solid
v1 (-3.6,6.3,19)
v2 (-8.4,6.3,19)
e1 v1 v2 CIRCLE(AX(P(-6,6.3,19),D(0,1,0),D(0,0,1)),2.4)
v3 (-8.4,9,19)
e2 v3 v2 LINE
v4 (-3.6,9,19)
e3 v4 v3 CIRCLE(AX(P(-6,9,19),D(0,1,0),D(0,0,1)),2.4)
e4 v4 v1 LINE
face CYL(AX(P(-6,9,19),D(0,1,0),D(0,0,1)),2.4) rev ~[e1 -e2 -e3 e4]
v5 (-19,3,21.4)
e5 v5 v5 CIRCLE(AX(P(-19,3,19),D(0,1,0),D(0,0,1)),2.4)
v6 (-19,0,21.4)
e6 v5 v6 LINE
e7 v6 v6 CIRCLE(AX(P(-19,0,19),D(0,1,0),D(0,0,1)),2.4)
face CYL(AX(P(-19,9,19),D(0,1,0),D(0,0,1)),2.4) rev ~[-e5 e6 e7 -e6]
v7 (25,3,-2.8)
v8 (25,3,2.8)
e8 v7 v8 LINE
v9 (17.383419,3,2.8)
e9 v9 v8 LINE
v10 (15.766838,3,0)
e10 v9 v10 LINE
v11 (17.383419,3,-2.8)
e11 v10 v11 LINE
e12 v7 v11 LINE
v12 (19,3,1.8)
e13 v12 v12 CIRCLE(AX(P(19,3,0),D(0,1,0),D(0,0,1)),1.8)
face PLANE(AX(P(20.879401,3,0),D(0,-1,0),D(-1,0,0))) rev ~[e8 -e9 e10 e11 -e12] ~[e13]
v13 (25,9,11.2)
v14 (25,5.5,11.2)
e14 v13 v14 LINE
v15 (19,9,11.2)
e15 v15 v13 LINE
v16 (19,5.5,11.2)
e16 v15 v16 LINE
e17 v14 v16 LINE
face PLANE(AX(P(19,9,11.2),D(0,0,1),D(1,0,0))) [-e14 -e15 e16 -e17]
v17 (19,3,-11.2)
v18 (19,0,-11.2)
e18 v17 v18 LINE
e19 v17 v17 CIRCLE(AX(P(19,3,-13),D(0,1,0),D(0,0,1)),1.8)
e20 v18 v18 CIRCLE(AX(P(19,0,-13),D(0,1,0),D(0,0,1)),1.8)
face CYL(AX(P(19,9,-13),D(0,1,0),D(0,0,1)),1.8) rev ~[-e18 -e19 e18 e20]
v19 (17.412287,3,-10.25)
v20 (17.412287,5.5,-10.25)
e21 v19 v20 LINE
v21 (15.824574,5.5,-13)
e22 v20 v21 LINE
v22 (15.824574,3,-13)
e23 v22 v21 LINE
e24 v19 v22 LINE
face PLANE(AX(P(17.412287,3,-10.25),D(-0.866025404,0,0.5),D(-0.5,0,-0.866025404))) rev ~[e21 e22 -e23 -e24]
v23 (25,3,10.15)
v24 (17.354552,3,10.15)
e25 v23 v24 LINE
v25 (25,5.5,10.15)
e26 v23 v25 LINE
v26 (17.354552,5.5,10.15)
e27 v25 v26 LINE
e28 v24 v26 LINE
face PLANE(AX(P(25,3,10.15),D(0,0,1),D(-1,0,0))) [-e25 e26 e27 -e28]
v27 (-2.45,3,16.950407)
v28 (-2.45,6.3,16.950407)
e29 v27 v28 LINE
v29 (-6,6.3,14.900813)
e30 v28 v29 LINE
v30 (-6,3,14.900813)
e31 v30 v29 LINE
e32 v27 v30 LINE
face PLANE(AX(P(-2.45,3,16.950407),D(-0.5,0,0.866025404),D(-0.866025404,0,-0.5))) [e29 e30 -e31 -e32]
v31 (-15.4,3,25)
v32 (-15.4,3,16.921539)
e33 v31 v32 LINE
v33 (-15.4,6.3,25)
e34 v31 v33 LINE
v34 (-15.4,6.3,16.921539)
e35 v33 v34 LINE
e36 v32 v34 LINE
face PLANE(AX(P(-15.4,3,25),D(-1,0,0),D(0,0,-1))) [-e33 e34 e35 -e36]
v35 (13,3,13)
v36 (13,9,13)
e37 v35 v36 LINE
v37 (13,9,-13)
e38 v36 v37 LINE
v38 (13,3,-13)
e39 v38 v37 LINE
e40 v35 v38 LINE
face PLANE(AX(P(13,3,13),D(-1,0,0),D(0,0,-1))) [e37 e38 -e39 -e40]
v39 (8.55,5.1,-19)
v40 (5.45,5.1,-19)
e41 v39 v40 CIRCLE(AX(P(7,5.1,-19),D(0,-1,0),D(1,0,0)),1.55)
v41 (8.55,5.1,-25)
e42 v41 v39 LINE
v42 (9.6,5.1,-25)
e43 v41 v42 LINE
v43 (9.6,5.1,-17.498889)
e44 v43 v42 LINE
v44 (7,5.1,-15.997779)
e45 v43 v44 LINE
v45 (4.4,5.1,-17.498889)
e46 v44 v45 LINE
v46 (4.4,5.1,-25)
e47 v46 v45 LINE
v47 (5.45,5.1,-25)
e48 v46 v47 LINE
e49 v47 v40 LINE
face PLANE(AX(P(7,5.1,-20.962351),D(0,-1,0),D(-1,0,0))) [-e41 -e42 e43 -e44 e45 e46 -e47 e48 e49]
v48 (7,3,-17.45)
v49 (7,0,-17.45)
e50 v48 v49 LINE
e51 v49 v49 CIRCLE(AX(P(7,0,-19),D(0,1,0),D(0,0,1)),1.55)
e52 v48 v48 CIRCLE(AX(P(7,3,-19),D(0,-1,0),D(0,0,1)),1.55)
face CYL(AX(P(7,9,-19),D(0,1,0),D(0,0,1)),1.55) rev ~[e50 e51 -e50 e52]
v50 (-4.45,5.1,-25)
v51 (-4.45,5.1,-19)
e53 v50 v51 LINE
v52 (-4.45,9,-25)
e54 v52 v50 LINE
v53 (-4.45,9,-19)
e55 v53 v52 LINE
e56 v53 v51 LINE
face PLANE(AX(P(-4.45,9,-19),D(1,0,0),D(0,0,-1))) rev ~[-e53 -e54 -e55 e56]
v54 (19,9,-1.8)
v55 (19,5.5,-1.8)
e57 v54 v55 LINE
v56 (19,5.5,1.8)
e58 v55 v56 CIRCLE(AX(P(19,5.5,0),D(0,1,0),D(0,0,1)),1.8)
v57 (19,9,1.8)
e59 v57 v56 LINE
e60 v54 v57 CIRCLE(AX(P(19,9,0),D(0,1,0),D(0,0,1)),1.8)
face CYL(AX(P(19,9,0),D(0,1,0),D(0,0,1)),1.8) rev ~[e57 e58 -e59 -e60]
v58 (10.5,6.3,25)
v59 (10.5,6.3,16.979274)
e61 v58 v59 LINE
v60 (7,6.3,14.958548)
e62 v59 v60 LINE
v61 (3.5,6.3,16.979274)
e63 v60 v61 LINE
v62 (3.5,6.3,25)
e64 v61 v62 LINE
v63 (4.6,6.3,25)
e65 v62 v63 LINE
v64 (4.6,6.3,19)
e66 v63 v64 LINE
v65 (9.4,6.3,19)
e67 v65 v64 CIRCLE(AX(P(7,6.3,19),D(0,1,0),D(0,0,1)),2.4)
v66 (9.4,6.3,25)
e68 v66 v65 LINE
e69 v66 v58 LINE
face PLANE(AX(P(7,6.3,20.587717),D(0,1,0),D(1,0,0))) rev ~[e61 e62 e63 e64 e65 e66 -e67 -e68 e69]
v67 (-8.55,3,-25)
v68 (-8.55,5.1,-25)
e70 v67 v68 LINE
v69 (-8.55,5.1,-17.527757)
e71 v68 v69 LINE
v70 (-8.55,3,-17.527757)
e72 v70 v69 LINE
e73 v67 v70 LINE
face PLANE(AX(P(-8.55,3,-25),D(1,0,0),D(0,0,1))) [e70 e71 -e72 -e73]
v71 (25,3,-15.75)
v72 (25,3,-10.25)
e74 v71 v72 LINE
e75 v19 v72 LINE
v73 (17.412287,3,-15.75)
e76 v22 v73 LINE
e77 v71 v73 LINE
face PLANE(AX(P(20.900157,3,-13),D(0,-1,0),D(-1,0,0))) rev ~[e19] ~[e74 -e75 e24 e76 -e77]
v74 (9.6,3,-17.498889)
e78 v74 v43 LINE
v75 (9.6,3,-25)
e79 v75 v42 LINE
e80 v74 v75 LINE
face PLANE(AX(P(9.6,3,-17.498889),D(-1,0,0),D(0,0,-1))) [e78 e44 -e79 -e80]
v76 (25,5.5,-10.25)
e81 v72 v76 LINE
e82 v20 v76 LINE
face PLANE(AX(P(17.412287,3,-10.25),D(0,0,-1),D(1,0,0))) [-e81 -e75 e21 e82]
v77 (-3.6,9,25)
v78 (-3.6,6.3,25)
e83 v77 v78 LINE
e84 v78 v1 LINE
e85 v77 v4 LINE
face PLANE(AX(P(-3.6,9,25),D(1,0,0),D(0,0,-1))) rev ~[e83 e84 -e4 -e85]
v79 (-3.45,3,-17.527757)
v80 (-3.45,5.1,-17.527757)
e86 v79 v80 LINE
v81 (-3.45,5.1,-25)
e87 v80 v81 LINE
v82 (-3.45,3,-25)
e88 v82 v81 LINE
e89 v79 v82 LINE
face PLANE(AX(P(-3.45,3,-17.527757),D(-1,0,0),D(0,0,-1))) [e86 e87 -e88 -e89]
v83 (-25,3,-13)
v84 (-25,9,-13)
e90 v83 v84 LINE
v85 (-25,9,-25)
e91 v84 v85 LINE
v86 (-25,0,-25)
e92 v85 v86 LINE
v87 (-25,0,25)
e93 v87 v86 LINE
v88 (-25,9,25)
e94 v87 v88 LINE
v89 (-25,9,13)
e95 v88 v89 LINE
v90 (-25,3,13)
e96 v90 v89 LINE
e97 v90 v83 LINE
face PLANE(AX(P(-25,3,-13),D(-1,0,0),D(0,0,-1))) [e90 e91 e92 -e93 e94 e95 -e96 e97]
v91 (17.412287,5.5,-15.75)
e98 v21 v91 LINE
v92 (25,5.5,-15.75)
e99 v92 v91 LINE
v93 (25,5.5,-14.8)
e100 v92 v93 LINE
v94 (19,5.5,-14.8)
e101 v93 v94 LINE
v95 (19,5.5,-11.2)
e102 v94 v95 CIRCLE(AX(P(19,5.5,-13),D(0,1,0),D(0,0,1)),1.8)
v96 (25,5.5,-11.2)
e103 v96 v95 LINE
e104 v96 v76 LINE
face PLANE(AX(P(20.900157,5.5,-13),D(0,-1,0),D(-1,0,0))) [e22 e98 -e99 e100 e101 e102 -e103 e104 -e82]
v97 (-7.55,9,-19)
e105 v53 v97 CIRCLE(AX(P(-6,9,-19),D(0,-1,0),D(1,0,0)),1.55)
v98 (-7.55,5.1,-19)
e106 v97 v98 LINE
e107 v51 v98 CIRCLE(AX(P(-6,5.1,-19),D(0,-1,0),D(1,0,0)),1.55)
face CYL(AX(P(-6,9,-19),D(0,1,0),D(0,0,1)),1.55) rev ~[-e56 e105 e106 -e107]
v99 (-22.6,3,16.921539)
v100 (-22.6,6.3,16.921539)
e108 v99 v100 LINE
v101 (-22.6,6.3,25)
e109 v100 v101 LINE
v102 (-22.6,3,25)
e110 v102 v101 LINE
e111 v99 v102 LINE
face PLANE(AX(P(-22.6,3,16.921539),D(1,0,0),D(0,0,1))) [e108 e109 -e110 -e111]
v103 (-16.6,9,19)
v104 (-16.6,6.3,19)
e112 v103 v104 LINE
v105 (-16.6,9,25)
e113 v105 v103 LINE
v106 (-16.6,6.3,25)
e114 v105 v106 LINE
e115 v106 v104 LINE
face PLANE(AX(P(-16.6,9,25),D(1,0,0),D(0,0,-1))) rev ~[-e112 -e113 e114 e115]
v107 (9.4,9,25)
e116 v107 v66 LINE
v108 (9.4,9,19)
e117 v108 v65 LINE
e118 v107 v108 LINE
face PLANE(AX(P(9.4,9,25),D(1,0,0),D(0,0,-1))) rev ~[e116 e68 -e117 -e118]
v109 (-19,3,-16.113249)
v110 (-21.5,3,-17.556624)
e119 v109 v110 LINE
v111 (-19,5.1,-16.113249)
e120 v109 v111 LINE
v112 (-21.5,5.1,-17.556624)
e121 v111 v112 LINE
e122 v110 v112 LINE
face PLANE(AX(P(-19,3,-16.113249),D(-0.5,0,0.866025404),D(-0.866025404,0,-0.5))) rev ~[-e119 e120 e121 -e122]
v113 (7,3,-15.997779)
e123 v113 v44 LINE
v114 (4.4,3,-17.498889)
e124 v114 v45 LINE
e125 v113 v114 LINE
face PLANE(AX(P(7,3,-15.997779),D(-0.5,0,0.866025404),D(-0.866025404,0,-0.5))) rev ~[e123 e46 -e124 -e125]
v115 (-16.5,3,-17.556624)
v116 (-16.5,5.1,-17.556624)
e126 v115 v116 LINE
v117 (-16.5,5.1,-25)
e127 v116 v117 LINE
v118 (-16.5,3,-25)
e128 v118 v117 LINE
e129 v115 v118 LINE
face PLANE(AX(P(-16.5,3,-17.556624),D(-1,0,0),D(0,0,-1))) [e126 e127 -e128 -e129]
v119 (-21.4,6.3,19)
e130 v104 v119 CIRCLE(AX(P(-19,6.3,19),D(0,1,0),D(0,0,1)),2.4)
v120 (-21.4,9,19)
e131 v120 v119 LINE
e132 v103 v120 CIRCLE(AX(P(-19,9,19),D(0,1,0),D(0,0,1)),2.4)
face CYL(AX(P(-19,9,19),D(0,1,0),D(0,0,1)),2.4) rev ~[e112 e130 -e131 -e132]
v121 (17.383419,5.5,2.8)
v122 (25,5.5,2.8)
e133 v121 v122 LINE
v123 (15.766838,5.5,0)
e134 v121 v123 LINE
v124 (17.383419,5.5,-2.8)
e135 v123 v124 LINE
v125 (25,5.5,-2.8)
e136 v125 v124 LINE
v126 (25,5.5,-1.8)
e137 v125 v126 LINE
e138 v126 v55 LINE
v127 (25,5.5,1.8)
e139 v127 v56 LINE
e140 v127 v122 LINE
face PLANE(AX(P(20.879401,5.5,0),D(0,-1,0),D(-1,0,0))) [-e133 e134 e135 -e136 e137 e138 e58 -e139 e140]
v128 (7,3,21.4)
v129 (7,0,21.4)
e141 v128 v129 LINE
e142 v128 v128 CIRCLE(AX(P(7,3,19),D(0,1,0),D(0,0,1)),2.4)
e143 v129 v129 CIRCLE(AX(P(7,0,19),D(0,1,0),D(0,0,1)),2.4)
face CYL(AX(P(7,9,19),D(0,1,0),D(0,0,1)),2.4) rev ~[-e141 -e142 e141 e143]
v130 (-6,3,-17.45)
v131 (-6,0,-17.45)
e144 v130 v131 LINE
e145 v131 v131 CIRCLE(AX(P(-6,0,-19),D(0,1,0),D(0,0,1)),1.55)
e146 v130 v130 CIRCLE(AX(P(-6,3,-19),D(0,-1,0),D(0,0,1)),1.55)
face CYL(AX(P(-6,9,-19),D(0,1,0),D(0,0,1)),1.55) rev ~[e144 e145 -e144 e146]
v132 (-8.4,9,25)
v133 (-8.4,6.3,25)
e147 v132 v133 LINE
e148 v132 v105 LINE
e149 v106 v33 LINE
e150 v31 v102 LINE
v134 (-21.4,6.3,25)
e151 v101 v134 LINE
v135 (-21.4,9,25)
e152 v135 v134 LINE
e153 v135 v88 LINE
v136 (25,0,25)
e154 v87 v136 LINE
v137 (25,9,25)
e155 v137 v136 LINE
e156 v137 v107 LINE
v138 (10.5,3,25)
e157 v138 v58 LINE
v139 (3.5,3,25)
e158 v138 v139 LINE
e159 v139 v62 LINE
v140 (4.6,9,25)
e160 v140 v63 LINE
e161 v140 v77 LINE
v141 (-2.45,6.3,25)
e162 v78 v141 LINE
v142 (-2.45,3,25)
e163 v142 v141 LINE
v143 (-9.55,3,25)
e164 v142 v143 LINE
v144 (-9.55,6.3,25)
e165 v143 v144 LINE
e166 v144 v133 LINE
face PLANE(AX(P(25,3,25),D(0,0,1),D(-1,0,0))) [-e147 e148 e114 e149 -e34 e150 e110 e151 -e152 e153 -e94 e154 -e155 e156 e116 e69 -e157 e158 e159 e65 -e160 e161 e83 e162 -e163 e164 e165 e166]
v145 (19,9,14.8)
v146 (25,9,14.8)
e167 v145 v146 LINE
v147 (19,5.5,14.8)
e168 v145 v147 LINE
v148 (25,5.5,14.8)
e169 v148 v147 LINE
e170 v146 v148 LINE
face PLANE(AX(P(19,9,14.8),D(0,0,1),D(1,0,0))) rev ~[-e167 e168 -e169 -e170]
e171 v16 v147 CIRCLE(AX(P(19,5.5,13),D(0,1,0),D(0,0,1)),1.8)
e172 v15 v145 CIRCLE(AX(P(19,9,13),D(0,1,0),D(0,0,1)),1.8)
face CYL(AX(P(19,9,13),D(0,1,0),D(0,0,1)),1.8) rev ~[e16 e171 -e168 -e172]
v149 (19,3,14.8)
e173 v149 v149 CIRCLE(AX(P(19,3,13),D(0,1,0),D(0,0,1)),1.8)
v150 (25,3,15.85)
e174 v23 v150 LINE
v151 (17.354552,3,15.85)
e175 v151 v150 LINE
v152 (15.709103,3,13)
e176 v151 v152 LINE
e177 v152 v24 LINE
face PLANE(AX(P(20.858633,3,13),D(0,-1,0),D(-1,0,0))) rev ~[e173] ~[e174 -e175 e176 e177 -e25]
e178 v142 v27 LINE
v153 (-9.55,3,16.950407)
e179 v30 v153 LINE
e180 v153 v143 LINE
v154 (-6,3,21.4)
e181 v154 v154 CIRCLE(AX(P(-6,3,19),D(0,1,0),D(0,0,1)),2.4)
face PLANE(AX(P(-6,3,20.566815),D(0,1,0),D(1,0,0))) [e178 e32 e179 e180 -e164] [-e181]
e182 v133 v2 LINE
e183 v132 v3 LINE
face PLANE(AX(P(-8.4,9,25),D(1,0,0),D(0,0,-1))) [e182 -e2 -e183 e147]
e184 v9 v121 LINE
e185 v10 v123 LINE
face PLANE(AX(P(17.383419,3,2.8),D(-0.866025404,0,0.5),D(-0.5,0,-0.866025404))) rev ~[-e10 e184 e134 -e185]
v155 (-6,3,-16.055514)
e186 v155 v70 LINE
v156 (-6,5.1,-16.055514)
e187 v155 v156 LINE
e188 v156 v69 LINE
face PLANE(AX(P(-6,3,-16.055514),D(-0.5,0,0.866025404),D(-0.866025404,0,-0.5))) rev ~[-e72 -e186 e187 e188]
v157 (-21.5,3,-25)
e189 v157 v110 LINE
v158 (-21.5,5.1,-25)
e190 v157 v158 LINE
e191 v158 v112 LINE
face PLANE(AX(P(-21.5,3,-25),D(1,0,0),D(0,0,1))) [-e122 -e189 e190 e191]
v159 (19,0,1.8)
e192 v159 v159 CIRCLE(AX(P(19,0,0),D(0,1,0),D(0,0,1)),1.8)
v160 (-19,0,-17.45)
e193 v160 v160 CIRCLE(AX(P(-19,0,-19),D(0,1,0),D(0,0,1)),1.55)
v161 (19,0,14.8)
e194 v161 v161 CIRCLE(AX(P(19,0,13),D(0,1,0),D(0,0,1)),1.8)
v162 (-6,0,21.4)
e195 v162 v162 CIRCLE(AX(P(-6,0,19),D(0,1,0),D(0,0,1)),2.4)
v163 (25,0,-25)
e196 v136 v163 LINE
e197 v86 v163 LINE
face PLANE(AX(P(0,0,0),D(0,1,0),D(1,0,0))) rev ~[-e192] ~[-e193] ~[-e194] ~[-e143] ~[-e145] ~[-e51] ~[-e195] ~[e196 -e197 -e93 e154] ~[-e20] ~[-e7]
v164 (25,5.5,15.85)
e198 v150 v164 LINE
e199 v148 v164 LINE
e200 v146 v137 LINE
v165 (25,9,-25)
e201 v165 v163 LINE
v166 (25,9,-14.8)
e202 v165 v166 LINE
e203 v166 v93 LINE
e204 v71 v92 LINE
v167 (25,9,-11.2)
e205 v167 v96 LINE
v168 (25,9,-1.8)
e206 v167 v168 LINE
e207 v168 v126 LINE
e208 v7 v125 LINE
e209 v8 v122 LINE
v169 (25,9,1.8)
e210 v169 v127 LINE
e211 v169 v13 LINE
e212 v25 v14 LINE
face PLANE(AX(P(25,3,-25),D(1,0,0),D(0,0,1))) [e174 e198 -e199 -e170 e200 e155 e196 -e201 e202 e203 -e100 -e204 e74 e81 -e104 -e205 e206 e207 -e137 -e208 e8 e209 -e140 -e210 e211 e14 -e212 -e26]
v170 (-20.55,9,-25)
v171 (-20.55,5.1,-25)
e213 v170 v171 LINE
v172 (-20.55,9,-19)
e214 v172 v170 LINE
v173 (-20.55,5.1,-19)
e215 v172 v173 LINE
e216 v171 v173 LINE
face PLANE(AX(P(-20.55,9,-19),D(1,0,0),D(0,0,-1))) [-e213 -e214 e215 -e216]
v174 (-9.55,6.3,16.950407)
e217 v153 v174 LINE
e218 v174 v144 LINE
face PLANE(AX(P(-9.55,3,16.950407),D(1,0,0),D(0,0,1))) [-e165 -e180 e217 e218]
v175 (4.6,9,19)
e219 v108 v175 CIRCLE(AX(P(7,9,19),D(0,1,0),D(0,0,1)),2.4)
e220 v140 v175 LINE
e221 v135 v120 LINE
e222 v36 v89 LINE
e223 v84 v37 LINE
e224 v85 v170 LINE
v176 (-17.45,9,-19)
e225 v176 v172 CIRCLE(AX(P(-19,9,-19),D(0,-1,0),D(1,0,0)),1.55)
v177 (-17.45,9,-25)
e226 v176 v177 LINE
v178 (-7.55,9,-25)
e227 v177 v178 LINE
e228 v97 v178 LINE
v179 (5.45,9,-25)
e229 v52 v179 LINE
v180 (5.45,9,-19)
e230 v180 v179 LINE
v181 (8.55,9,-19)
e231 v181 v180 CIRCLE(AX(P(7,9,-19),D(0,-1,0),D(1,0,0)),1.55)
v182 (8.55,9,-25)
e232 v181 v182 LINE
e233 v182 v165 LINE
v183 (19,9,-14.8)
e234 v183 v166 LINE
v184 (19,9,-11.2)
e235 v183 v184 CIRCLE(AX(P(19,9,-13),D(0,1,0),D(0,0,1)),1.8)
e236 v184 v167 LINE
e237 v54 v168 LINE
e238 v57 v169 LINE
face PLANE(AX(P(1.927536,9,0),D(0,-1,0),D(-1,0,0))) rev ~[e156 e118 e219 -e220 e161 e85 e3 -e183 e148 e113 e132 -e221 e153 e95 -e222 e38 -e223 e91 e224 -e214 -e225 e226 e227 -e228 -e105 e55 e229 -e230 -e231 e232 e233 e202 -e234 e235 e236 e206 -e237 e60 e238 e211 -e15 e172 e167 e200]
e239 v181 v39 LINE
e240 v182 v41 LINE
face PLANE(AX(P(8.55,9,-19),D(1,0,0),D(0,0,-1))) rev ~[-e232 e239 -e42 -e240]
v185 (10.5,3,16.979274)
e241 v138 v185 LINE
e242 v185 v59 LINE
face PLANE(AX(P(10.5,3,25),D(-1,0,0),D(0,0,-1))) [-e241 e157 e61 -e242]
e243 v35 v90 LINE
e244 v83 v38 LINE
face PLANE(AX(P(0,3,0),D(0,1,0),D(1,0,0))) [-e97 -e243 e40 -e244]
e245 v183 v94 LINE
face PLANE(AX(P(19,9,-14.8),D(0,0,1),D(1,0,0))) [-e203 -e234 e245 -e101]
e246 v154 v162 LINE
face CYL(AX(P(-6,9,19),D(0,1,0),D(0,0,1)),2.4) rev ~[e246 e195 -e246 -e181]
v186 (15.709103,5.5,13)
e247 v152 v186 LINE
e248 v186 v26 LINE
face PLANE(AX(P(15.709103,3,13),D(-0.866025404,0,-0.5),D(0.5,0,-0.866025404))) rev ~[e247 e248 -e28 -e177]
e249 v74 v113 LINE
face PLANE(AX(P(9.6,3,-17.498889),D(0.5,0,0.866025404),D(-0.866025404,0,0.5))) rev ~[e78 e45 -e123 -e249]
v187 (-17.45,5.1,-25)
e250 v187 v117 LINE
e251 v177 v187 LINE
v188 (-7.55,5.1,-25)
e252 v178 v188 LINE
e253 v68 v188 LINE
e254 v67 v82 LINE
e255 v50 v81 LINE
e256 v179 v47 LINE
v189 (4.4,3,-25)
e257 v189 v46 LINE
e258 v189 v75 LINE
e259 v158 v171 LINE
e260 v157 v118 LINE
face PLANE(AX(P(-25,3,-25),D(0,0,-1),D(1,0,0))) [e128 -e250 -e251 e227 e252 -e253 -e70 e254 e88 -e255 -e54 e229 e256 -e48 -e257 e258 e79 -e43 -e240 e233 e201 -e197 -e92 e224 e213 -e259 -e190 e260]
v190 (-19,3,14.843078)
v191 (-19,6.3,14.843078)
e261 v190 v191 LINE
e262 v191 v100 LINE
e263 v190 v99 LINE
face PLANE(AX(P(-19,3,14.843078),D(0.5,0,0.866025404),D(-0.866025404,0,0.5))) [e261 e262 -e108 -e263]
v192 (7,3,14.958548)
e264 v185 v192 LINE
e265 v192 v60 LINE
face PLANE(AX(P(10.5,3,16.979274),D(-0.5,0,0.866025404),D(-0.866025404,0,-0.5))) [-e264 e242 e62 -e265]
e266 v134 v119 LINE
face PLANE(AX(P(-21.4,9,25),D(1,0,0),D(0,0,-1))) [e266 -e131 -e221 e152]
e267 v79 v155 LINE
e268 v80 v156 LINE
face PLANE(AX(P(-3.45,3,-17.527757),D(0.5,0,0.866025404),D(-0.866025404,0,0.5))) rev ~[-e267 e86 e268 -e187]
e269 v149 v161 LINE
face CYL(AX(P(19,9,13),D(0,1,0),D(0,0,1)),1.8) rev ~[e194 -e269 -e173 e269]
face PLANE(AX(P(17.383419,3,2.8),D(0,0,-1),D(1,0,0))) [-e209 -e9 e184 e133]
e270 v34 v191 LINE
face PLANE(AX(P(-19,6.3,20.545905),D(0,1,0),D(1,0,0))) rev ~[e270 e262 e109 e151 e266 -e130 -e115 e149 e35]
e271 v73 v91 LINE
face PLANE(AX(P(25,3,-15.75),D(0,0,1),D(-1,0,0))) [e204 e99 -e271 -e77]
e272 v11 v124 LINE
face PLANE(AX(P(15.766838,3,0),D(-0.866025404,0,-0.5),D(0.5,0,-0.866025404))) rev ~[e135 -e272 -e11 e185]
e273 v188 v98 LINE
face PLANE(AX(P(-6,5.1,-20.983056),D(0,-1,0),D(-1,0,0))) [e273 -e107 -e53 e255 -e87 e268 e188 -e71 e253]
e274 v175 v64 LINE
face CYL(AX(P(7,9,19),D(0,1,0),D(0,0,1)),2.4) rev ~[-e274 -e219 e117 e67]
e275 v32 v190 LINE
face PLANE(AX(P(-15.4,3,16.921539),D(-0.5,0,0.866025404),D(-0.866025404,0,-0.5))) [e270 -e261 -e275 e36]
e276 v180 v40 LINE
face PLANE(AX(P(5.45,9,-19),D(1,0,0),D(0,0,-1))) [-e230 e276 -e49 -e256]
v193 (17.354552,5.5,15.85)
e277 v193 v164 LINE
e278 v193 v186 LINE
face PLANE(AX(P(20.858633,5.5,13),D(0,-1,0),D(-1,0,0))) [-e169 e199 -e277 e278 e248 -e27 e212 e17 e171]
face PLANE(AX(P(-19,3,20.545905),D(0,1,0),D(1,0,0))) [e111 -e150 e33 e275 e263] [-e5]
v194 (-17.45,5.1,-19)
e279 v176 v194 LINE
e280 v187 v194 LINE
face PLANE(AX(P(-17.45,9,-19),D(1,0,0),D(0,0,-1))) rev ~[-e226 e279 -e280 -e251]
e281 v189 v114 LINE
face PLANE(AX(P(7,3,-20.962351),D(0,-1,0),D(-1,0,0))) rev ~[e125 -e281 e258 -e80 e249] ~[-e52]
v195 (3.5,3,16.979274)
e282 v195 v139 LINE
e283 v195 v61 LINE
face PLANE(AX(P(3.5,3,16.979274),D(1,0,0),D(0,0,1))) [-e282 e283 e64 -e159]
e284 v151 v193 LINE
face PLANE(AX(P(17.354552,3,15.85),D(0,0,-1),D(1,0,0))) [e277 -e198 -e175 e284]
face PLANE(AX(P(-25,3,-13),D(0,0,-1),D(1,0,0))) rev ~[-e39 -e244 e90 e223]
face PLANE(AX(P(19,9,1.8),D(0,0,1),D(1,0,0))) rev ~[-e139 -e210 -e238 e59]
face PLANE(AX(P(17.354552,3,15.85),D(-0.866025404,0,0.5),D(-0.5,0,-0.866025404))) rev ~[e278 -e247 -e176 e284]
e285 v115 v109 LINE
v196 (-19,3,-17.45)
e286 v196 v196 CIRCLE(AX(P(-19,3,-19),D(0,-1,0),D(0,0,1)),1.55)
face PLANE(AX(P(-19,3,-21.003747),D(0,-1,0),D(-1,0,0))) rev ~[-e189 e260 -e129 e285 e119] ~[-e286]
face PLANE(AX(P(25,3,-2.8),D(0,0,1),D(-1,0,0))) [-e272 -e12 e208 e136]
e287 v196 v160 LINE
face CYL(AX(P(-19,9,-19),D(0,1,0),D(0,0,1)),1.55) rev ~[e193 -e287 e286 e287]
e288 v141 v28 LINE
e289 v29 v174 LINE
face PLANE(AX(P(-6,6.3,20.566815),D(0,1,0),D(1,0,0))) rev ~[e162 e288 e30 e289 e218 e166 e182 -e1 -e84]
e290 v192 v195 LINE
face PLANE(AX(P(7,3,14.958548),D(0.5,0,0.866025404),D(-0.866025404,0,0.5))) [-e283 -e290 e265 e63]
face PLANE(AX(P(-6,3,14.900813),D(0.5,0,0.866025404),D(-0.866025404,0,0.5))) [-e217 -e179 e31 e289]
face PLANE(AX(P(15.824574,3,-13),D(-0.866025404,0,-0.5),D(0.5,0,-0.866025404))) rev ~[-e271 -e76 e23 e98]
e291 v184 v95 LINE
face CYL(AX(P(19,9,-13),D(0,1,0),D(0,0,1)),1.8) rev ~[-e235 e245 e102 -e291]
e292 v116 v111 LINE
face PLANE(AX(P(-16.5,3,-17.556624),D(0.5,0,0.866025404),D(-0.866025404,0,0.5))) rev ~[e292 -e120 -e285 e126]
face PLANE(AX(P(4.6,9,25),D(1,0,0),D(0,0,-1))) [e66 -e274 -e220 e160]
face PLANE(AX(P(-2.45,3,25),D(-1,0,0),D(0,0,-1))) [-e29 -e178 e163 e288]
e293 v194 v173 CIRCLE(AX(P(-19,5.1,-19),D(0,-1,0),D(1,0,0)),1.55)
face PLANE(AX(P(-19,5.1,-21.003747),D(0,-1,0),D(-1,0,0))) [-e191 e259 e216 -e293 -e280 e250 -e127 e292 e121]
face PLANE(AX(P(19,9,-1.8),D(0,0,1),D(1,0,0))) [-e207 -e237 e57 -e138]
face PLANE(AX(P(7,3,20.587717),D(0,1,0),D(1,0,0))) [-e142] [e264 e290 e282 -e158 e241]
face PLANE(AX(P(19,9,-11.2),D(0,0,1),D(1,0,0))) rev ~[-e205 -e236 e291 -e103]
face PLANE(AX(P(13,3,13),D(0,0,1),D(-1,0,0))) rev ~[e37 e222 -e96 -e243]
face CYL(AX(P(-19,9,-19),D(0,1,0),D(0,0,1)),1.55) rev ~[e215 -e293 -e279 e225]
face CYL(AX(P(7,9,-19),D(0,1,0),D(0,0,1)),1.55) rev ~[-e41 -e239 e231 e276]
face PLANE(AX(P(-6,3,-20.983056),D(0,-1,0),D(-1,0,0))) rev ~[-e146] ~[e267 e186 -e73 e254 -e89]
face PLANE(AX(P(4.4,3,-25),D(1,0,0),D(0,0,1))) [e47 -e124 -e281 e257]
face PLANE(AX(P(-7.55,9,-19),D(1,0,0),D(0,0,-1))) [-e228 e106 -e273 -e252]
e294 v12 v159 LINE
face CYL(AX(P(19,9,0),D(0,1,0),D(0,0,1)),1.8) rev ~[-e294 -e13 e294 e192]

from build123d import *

# Parameters (mm, degrees)
SKETCH1_W           = 50
SKETCH1_H           = 50
BOSS_EXTRUDE1_DEPTH = 3
BOSS_EXTRUDE2_DEPTH = 6
CUT_EXTRUDE1_DEPTH  = 2.1
CUT_EXTRUDE2_DEPTH  = 2.5
CUT_EXTRUDE3_DEPTH  = 3.3
SKETCH4_R           = 1.55
SKETCH4_R_2         = 1.8
SKETCH4_R_3         = 2.4
CUT_EXTRUDE4_DEPTH  = 37.482872694
CUT_EXTRUDE5_REACH  = 38.483
SKETCH5_W           = 3.1
SKETCH5_H           = 6
SKETCH5_W_2         = 6
SKETCH5_H_2         = 3.6
SKETCH5_W_3         = 4.8


with BuildPart() as part:
    # Sketch1 → Boss-Extrude1 (new body)
    with BuildSketch(Plane(origin=(0, 0, 0), x_dir=(1, 0, 0), z_dir=(0, 1, 0))):
        Rectangle(SKETCH1_W, SKETCH1_H)
    extrude(amount=BOSS_EXTRUDE1_DEPTH)

    # Sketch2 → Boss-Extrude2 (add)
    with BuildSketch(Plane(origin=(0, 3, 0), x_dir=(1, 0, 0), z_dir=(0, 1, 0))):
        Polygon((-13, 13), (-25, 13), (-25, 25), (25, 25), (25, -25), (-25, -25), (-25, -13), (-13, -13), (13, -13), (13, 13), align=None)
    extrude(amount=BOSS_EXTRUDE2_DEPTH)

    # Sketch3 → Cut-Extrude1 (cut)
    with BuildSketch(Plane(origin=(0, 3, 0), x_dir=(1, 0, 0), z_dir=(0, 1, 0))):
        Polygon((-21.5, 25), (-16.5, 25), (-16.5, 20.443375673), (-16.5, 17.556624327), (-19, 16.113248654), (-21.5, 17.556624327), (-21.5, 20.443375673), align=None)
        Polygon((-8.55, 25), (-3.45, 25), (-3.45, 20.472243186), (-3.45, 17.527756814), (-6, 16.055513627), (-8.55, 17.527756814), (-8.55, 20.472243186), align=None)
        Polygon((4.4, 25), (9.6, 25), (9.6, 20.5011107), (9.6, 17.4988893), (7, 15.9977786), (4.4, 17.4988893), (4.4, 20.5011107), align=None)
    extrude(amount=CUT_EXTRUDE1_DEPTH, mode=Mode.SUBTRACT)

    # Sketch3<3> → Cut-Extrude2 (cut)
    with BuildSketch(Plane(origin=(0, 3, 0), x_dir=(1, 0, 0), z_dir=(0, 1, 0))):
        Polygon((25, 15.75), (25, 10.25), (20.58771324, 10.25), (17.41228676, 10.25), (15.824573519, 13), (17.41228676, 15.75), (20.58771324, 15.75), align=None)
        Polygon((25, 2.8), (25, -2.8), (20.616580754, -2.8), (17.383419246, -2.8), (15.766838493, 0), (17.383419246, 2.8), (20.616580754, 2.8), align=None)
        Polygon((25, -10.15), (25, -15.85), (20.645448267, -15.85), (17.354551733, -15.85), (15.709103466, -13), (17.354551733, -10.15), (20.645448267, -10.15), align=None)
    extrude(amount=CUT_EXTRUDE2_DEPTH, mode=Mode.SUBTRACT)

    # Sketch3<4> → Cut-Extrude3 (cut)
    with BuildSketch(Plane(origin=(0, 3, 0), x_dir=(1, 0, 0), z_dir=(0, 1, 0))):
        Polygon((-22.6, -21.078460969), (-22.6, -25), (-15.4, -25), (-15.4, -21.078460969), (-15.4, -16.921539031), (-19, -14.843078062), (-22.6, -16.921539031), align=None)
        Polygon((-9.55, -21.049593456), (-9.55, -25), (-2.45, -25), (-2.45, -21.049593456), (-2.45, -16.950406544), (-6, -14.900813089), (-9.55, -16.950406544), align=None)
        Polygon((3.5, -21.020725942), (3.5, -25), (10.5, -25), (10.5, -21.020725942), (10.5, -16.979274058), (7, -14.958548116), (3.5, -16.979274058), align=None)
    extrude(amount=CUT_EXTRUDE3_DEPTH, mode=Mode.SUBTRACT)

    # Sketch4 → Cut-Extrude4 (cut, through all)
    with BuildSketch(Plane(origin=(0, 9, 0), x_dir=(1, 0, 0), z_dir=(0, 1, 0))):
        with Locations(Location((-19, 19, 0), (0, 0, 270))):
            Circle(SKETCH4_R)
        with Locations(Location((-6, 19, 0), (0, 0, 270))):
            Circle(SKETCH4_R)
        with Locations(Location((7, 19, 0), (0, 0, 270))):
            Circle(SKETCH4_R)
        with Locations(Location((19, 13, 0), (0, 0, 270))):
            Circle(SKETCH4_R_2)
        with Locations(Location((19, 0, 0), (0, 0, 270))):
            Circle(SKETCH4_R_2)
        with Locations(Location((19, -13, 0), (0, 0, 270))):
            Circle(SKETCH4_R_2)
        with Locations(Location((7, -19, 0), (0, 0, 270))):
            Circle(SKETCH4_R_3)
        with Locations(Location((-6, -19, 0), (0, 0, 270))):
            Circle(SKETCH4_R_3)
        with Locations(Location((-19, -19, 0), (0, 0, 270))):
            Circle(SKETCH4_R_3)
    extrude(amount=-CUT_EXTRUDE4_DEPTH, mode=Mode.SUBTRACT)

    # Cut-Extrude5: up to this face of the body (flat: up to its plane)
    cut_extrude5_end = Plane(part.part.faces().sort_by_distance((-19, 3, 24.875499774))[0])
    # Sketch5 → Cut-Extrude5 (cut, up to the picked face)
    with BuildSketch(Plane(origin=(0, 9, 0), x_dir=(1, 0, 0), z_dir=(0, 1, 0)), mode=Mode.PRIVATE) as cut_extrude5_sk1:
        with Locations((-19, 22)):
            Rectangle(SKETCH5_W, SKETCH5_H)
    cut_extrude5_tool1 = split(extrude(cut_extrude5_sk1.sketch, amount=-CUT_EXTRUDE5_REACH, mode=Mode.PRIVATE), bisect_by=cut_extrude5_end, keep=Keep.BOTH, mode=Mode.PRIVATE)
    # Sketch5 → Cut-Extrude5 (cut, up to the picked face)
    with BuildSketch(Plane(origin=(0, 9, 0), x_dir=(1, 0, 0), z_dir=(0, 1, 0)), mode=Mode.PRIVATE) as cut_extrude5_sk2:
        with Locations((-6, 22)):
            Rectangle(SKETCH5_W, SKETCH5_H)
    cut_extrude5_tool2 = split(extrude(cut_extrude5_sk2.sketch, amount=-CUT_EXTRUDE5_REACH, mode=Mode.PRIVATE), bisect_by=cut_extrude5_end, keep=Keep.BOTH, mode=Mode.PRIVATE)
    # Sketch5 → Cut-Extrude5 (cut, up to the picked face)
    with BuildSketch(Plane(origin=(0, 9, 0), x_dir=(1, 0, 0), z_dir=(0, 1, 0)), mode=Mode.PRIVATE) as cut_extrude5_sk3:
        with Locations((7, 22)):
            Rectangle(SKETCH5_W, SKETCH5_H)
    cut_extrude5_tool3 = split(extrude(cut_extrude5_sk3.sketch, amount=-CUT_EXTRUDE5_REACH, mode=Mode.PRIVATE), bisect_by=cut_extrude5_end, keep=Keep.BOTH, mode=Mode.PRIVATE)
    # Sketch5 → Cut-Extrude5 (cut, up to the picked face)
    with BuildSketch(Plane(origin=(0, 9, 0), x_dir=(1, 0, 0), z_dir=(0, 1, 0)), mode=Mode.PRIVATE) as cut_extrude5_sk4:
        with Locations((22, 13)):
            Rectangle(SKETCH5_W_2, SKETCH5_H_2)
    cut_extrude5_tool4 = split(extrude(cut_extrude5_sk4.sketch, amount=-CUT_EXTRUDE5_REACH, mode=Mode.PRIVATE), bisect_by=cut_extrude5_end, keep=Keep.BOTH, mode=Mode.PRIVATE)
    # Sketch5 → Cut-Extrude5 (cut, up to the picked face)
    with BuildSketch(Plane(origin=(0, 9, 0), x_dir=(1, 0, 0), z_dir=(0, 1, 0)), mode=Mode.PRIVATE) as cut_extrude5_sk5:
        with Locations((22, 0)):
            Rectangle(SKETCH5_W_2, SKETCH5_H_2)
    cut_extrude5_tool5 = split(extrude(cut_extrude5_sk5.sketch, amount=-CUT_EXTRUDE5_REACH, mode=Mode.PRIVATE), bisect_by=cut_extrude5_end, keep=Keep.BOTH, mode=Mode.PRIVATE)
    # Sketch5 → Cut-Extrude5 (cut, up to the picked face)
    with BuildSketch(Plane(origin=(0, 9, 0), x_dir=(1, 0, 0), z_dir=(0, 1, 0)), mode=Mode.PRIVATE) as cut_extrude5_sk6:
        with Locations((22, -13)):
            Rectangle(SKETCH5_W_2, SKETCH5_H_2)
    cut_extrude5_tool6 = split(extrude(cut_extrude5_sk6.sketch, amount=-CUT_EXTRUDE5_REACH, mode=Mode.PRIVATE), bisect_by=cut_extrude5_end, keep=Keep.BOTH, mode=Mode.PRIVATE)
    # Sketch5 → Cut-Extrude5 (cut, up to the picked face)
    with BuildSketch(Plane(origin=(0, 9, 0), x_dir=(1, 0, 0), z_dir=(0, 1, 0)), mode=Mode.PRIVATE) as cut_extrude5_sk7:
        with Locations((7, -22)):
            Rectangle(SKETCH5_W_3, SKETCH5_H)
    cut_extrude5_tool7 = split(extrude(cut_extrude5_sk7.sketch, amount=-CUT_EXTRUDE5_REACH, mode=Mode.PRIVATE), bisect_by=cut_extrude5_end, keep=Keep.BOTH, mode=Mode.PRIVATE)
    # Sketch5 → Cut-Extrude5 (cut, up to the picked face)
    with BuildSketch(Plane(origin=(0, 9, 0), x_dir=(1, 0, 0), z_dir=(0, 1, 0)), mode=Mode.PRIVATE) as cut_extrude5_sk8:
        with Locations((-6, -22)):
            Rectangle(SKETCH5_W_3, SKETCH5_H)
    cut_extrude5_tool8 = split(extrude(cut_extrude5_sk8.sketch, amount=-CUT_EXTRUDE5_REACH, mode=Mode.PRIVATE), bisect_by=cut_extrude5_end, keep=Keep.BOTH, mode=Mode.PRIVATE)
    # Sketch5 → Cut-Extrude5 (cut, up to the picked face)
    with BuildSketch(Plane(origin=(0, 9, 0), x_dir=(1, 0, 0), z_dir=(0, 1, 0)), mode=Mode.PRIVATE) as cut_extrude5_sk9:
        with Locations((-19, -22)):
            Rectangle(SKETCH5_W_3, SKETCH5_H)
    cut_extrude5_tool9 = split(extrude(cut_extrude5_sk9.sketch, amount=-CUT_EXTRUDE5_REACH, mode=Mode.PRIVATE), bisect_by=cut_extrude5_end, keep=Keep.BOTH, mode=Mode.PRIVATE)
    add(cut_extrude5_tool1.solids().sort_by(Axis((-19, 9, -22), (0, -1, 0)))[0], mode=Mode.SUBTRACT)
    add(cut_extrude5_tool2.solids().sort_by(Axis((-6, 9, -22), (0, -1, 0)))[0], mode=Mode.SUBTRACT)
    add(cut_extrude5_tool3.solids().sort_by(Axis((7, 9, -22), (0, -1, 0)))[0], mode=Mode.SUBTRACT)
    add(cut_extrude5_tool4.solids().sort_by(Axis((22, 9, -13), (0, -1, 0)))[0], mode=Mode.SUBTRACT)
    add(cut_extrude5_tool5.solids().sort_by(Axis((22, 9, 0), (0, -1, 0)))[0], mode=Mode.SUBTRACT)
    add(cut_extrude5_tool6.solids().sort_by(Axis((22, 9, 13), (0, -1, 0)))[0], mode=Mode.SUBTRACT)
    add(cut_extrude5_tool7.solids().sort_by(Axis((7, 9, 22), (0, -1, 0)))[0], mode=Mode.SUBTRACT)
    add(cut_extrude5_tool8.solids().sort_by(Axis((-6, 9, 22), (0, -1, 0)))[0], mode=Mode.SUBTRACT)
    add(cut_extrude5_tool9.solids().sort_by(Axis((-19, 9, 22), (0, -1, 0)))[0], mode=Mode.SUBTRACT)


solid = part.part
